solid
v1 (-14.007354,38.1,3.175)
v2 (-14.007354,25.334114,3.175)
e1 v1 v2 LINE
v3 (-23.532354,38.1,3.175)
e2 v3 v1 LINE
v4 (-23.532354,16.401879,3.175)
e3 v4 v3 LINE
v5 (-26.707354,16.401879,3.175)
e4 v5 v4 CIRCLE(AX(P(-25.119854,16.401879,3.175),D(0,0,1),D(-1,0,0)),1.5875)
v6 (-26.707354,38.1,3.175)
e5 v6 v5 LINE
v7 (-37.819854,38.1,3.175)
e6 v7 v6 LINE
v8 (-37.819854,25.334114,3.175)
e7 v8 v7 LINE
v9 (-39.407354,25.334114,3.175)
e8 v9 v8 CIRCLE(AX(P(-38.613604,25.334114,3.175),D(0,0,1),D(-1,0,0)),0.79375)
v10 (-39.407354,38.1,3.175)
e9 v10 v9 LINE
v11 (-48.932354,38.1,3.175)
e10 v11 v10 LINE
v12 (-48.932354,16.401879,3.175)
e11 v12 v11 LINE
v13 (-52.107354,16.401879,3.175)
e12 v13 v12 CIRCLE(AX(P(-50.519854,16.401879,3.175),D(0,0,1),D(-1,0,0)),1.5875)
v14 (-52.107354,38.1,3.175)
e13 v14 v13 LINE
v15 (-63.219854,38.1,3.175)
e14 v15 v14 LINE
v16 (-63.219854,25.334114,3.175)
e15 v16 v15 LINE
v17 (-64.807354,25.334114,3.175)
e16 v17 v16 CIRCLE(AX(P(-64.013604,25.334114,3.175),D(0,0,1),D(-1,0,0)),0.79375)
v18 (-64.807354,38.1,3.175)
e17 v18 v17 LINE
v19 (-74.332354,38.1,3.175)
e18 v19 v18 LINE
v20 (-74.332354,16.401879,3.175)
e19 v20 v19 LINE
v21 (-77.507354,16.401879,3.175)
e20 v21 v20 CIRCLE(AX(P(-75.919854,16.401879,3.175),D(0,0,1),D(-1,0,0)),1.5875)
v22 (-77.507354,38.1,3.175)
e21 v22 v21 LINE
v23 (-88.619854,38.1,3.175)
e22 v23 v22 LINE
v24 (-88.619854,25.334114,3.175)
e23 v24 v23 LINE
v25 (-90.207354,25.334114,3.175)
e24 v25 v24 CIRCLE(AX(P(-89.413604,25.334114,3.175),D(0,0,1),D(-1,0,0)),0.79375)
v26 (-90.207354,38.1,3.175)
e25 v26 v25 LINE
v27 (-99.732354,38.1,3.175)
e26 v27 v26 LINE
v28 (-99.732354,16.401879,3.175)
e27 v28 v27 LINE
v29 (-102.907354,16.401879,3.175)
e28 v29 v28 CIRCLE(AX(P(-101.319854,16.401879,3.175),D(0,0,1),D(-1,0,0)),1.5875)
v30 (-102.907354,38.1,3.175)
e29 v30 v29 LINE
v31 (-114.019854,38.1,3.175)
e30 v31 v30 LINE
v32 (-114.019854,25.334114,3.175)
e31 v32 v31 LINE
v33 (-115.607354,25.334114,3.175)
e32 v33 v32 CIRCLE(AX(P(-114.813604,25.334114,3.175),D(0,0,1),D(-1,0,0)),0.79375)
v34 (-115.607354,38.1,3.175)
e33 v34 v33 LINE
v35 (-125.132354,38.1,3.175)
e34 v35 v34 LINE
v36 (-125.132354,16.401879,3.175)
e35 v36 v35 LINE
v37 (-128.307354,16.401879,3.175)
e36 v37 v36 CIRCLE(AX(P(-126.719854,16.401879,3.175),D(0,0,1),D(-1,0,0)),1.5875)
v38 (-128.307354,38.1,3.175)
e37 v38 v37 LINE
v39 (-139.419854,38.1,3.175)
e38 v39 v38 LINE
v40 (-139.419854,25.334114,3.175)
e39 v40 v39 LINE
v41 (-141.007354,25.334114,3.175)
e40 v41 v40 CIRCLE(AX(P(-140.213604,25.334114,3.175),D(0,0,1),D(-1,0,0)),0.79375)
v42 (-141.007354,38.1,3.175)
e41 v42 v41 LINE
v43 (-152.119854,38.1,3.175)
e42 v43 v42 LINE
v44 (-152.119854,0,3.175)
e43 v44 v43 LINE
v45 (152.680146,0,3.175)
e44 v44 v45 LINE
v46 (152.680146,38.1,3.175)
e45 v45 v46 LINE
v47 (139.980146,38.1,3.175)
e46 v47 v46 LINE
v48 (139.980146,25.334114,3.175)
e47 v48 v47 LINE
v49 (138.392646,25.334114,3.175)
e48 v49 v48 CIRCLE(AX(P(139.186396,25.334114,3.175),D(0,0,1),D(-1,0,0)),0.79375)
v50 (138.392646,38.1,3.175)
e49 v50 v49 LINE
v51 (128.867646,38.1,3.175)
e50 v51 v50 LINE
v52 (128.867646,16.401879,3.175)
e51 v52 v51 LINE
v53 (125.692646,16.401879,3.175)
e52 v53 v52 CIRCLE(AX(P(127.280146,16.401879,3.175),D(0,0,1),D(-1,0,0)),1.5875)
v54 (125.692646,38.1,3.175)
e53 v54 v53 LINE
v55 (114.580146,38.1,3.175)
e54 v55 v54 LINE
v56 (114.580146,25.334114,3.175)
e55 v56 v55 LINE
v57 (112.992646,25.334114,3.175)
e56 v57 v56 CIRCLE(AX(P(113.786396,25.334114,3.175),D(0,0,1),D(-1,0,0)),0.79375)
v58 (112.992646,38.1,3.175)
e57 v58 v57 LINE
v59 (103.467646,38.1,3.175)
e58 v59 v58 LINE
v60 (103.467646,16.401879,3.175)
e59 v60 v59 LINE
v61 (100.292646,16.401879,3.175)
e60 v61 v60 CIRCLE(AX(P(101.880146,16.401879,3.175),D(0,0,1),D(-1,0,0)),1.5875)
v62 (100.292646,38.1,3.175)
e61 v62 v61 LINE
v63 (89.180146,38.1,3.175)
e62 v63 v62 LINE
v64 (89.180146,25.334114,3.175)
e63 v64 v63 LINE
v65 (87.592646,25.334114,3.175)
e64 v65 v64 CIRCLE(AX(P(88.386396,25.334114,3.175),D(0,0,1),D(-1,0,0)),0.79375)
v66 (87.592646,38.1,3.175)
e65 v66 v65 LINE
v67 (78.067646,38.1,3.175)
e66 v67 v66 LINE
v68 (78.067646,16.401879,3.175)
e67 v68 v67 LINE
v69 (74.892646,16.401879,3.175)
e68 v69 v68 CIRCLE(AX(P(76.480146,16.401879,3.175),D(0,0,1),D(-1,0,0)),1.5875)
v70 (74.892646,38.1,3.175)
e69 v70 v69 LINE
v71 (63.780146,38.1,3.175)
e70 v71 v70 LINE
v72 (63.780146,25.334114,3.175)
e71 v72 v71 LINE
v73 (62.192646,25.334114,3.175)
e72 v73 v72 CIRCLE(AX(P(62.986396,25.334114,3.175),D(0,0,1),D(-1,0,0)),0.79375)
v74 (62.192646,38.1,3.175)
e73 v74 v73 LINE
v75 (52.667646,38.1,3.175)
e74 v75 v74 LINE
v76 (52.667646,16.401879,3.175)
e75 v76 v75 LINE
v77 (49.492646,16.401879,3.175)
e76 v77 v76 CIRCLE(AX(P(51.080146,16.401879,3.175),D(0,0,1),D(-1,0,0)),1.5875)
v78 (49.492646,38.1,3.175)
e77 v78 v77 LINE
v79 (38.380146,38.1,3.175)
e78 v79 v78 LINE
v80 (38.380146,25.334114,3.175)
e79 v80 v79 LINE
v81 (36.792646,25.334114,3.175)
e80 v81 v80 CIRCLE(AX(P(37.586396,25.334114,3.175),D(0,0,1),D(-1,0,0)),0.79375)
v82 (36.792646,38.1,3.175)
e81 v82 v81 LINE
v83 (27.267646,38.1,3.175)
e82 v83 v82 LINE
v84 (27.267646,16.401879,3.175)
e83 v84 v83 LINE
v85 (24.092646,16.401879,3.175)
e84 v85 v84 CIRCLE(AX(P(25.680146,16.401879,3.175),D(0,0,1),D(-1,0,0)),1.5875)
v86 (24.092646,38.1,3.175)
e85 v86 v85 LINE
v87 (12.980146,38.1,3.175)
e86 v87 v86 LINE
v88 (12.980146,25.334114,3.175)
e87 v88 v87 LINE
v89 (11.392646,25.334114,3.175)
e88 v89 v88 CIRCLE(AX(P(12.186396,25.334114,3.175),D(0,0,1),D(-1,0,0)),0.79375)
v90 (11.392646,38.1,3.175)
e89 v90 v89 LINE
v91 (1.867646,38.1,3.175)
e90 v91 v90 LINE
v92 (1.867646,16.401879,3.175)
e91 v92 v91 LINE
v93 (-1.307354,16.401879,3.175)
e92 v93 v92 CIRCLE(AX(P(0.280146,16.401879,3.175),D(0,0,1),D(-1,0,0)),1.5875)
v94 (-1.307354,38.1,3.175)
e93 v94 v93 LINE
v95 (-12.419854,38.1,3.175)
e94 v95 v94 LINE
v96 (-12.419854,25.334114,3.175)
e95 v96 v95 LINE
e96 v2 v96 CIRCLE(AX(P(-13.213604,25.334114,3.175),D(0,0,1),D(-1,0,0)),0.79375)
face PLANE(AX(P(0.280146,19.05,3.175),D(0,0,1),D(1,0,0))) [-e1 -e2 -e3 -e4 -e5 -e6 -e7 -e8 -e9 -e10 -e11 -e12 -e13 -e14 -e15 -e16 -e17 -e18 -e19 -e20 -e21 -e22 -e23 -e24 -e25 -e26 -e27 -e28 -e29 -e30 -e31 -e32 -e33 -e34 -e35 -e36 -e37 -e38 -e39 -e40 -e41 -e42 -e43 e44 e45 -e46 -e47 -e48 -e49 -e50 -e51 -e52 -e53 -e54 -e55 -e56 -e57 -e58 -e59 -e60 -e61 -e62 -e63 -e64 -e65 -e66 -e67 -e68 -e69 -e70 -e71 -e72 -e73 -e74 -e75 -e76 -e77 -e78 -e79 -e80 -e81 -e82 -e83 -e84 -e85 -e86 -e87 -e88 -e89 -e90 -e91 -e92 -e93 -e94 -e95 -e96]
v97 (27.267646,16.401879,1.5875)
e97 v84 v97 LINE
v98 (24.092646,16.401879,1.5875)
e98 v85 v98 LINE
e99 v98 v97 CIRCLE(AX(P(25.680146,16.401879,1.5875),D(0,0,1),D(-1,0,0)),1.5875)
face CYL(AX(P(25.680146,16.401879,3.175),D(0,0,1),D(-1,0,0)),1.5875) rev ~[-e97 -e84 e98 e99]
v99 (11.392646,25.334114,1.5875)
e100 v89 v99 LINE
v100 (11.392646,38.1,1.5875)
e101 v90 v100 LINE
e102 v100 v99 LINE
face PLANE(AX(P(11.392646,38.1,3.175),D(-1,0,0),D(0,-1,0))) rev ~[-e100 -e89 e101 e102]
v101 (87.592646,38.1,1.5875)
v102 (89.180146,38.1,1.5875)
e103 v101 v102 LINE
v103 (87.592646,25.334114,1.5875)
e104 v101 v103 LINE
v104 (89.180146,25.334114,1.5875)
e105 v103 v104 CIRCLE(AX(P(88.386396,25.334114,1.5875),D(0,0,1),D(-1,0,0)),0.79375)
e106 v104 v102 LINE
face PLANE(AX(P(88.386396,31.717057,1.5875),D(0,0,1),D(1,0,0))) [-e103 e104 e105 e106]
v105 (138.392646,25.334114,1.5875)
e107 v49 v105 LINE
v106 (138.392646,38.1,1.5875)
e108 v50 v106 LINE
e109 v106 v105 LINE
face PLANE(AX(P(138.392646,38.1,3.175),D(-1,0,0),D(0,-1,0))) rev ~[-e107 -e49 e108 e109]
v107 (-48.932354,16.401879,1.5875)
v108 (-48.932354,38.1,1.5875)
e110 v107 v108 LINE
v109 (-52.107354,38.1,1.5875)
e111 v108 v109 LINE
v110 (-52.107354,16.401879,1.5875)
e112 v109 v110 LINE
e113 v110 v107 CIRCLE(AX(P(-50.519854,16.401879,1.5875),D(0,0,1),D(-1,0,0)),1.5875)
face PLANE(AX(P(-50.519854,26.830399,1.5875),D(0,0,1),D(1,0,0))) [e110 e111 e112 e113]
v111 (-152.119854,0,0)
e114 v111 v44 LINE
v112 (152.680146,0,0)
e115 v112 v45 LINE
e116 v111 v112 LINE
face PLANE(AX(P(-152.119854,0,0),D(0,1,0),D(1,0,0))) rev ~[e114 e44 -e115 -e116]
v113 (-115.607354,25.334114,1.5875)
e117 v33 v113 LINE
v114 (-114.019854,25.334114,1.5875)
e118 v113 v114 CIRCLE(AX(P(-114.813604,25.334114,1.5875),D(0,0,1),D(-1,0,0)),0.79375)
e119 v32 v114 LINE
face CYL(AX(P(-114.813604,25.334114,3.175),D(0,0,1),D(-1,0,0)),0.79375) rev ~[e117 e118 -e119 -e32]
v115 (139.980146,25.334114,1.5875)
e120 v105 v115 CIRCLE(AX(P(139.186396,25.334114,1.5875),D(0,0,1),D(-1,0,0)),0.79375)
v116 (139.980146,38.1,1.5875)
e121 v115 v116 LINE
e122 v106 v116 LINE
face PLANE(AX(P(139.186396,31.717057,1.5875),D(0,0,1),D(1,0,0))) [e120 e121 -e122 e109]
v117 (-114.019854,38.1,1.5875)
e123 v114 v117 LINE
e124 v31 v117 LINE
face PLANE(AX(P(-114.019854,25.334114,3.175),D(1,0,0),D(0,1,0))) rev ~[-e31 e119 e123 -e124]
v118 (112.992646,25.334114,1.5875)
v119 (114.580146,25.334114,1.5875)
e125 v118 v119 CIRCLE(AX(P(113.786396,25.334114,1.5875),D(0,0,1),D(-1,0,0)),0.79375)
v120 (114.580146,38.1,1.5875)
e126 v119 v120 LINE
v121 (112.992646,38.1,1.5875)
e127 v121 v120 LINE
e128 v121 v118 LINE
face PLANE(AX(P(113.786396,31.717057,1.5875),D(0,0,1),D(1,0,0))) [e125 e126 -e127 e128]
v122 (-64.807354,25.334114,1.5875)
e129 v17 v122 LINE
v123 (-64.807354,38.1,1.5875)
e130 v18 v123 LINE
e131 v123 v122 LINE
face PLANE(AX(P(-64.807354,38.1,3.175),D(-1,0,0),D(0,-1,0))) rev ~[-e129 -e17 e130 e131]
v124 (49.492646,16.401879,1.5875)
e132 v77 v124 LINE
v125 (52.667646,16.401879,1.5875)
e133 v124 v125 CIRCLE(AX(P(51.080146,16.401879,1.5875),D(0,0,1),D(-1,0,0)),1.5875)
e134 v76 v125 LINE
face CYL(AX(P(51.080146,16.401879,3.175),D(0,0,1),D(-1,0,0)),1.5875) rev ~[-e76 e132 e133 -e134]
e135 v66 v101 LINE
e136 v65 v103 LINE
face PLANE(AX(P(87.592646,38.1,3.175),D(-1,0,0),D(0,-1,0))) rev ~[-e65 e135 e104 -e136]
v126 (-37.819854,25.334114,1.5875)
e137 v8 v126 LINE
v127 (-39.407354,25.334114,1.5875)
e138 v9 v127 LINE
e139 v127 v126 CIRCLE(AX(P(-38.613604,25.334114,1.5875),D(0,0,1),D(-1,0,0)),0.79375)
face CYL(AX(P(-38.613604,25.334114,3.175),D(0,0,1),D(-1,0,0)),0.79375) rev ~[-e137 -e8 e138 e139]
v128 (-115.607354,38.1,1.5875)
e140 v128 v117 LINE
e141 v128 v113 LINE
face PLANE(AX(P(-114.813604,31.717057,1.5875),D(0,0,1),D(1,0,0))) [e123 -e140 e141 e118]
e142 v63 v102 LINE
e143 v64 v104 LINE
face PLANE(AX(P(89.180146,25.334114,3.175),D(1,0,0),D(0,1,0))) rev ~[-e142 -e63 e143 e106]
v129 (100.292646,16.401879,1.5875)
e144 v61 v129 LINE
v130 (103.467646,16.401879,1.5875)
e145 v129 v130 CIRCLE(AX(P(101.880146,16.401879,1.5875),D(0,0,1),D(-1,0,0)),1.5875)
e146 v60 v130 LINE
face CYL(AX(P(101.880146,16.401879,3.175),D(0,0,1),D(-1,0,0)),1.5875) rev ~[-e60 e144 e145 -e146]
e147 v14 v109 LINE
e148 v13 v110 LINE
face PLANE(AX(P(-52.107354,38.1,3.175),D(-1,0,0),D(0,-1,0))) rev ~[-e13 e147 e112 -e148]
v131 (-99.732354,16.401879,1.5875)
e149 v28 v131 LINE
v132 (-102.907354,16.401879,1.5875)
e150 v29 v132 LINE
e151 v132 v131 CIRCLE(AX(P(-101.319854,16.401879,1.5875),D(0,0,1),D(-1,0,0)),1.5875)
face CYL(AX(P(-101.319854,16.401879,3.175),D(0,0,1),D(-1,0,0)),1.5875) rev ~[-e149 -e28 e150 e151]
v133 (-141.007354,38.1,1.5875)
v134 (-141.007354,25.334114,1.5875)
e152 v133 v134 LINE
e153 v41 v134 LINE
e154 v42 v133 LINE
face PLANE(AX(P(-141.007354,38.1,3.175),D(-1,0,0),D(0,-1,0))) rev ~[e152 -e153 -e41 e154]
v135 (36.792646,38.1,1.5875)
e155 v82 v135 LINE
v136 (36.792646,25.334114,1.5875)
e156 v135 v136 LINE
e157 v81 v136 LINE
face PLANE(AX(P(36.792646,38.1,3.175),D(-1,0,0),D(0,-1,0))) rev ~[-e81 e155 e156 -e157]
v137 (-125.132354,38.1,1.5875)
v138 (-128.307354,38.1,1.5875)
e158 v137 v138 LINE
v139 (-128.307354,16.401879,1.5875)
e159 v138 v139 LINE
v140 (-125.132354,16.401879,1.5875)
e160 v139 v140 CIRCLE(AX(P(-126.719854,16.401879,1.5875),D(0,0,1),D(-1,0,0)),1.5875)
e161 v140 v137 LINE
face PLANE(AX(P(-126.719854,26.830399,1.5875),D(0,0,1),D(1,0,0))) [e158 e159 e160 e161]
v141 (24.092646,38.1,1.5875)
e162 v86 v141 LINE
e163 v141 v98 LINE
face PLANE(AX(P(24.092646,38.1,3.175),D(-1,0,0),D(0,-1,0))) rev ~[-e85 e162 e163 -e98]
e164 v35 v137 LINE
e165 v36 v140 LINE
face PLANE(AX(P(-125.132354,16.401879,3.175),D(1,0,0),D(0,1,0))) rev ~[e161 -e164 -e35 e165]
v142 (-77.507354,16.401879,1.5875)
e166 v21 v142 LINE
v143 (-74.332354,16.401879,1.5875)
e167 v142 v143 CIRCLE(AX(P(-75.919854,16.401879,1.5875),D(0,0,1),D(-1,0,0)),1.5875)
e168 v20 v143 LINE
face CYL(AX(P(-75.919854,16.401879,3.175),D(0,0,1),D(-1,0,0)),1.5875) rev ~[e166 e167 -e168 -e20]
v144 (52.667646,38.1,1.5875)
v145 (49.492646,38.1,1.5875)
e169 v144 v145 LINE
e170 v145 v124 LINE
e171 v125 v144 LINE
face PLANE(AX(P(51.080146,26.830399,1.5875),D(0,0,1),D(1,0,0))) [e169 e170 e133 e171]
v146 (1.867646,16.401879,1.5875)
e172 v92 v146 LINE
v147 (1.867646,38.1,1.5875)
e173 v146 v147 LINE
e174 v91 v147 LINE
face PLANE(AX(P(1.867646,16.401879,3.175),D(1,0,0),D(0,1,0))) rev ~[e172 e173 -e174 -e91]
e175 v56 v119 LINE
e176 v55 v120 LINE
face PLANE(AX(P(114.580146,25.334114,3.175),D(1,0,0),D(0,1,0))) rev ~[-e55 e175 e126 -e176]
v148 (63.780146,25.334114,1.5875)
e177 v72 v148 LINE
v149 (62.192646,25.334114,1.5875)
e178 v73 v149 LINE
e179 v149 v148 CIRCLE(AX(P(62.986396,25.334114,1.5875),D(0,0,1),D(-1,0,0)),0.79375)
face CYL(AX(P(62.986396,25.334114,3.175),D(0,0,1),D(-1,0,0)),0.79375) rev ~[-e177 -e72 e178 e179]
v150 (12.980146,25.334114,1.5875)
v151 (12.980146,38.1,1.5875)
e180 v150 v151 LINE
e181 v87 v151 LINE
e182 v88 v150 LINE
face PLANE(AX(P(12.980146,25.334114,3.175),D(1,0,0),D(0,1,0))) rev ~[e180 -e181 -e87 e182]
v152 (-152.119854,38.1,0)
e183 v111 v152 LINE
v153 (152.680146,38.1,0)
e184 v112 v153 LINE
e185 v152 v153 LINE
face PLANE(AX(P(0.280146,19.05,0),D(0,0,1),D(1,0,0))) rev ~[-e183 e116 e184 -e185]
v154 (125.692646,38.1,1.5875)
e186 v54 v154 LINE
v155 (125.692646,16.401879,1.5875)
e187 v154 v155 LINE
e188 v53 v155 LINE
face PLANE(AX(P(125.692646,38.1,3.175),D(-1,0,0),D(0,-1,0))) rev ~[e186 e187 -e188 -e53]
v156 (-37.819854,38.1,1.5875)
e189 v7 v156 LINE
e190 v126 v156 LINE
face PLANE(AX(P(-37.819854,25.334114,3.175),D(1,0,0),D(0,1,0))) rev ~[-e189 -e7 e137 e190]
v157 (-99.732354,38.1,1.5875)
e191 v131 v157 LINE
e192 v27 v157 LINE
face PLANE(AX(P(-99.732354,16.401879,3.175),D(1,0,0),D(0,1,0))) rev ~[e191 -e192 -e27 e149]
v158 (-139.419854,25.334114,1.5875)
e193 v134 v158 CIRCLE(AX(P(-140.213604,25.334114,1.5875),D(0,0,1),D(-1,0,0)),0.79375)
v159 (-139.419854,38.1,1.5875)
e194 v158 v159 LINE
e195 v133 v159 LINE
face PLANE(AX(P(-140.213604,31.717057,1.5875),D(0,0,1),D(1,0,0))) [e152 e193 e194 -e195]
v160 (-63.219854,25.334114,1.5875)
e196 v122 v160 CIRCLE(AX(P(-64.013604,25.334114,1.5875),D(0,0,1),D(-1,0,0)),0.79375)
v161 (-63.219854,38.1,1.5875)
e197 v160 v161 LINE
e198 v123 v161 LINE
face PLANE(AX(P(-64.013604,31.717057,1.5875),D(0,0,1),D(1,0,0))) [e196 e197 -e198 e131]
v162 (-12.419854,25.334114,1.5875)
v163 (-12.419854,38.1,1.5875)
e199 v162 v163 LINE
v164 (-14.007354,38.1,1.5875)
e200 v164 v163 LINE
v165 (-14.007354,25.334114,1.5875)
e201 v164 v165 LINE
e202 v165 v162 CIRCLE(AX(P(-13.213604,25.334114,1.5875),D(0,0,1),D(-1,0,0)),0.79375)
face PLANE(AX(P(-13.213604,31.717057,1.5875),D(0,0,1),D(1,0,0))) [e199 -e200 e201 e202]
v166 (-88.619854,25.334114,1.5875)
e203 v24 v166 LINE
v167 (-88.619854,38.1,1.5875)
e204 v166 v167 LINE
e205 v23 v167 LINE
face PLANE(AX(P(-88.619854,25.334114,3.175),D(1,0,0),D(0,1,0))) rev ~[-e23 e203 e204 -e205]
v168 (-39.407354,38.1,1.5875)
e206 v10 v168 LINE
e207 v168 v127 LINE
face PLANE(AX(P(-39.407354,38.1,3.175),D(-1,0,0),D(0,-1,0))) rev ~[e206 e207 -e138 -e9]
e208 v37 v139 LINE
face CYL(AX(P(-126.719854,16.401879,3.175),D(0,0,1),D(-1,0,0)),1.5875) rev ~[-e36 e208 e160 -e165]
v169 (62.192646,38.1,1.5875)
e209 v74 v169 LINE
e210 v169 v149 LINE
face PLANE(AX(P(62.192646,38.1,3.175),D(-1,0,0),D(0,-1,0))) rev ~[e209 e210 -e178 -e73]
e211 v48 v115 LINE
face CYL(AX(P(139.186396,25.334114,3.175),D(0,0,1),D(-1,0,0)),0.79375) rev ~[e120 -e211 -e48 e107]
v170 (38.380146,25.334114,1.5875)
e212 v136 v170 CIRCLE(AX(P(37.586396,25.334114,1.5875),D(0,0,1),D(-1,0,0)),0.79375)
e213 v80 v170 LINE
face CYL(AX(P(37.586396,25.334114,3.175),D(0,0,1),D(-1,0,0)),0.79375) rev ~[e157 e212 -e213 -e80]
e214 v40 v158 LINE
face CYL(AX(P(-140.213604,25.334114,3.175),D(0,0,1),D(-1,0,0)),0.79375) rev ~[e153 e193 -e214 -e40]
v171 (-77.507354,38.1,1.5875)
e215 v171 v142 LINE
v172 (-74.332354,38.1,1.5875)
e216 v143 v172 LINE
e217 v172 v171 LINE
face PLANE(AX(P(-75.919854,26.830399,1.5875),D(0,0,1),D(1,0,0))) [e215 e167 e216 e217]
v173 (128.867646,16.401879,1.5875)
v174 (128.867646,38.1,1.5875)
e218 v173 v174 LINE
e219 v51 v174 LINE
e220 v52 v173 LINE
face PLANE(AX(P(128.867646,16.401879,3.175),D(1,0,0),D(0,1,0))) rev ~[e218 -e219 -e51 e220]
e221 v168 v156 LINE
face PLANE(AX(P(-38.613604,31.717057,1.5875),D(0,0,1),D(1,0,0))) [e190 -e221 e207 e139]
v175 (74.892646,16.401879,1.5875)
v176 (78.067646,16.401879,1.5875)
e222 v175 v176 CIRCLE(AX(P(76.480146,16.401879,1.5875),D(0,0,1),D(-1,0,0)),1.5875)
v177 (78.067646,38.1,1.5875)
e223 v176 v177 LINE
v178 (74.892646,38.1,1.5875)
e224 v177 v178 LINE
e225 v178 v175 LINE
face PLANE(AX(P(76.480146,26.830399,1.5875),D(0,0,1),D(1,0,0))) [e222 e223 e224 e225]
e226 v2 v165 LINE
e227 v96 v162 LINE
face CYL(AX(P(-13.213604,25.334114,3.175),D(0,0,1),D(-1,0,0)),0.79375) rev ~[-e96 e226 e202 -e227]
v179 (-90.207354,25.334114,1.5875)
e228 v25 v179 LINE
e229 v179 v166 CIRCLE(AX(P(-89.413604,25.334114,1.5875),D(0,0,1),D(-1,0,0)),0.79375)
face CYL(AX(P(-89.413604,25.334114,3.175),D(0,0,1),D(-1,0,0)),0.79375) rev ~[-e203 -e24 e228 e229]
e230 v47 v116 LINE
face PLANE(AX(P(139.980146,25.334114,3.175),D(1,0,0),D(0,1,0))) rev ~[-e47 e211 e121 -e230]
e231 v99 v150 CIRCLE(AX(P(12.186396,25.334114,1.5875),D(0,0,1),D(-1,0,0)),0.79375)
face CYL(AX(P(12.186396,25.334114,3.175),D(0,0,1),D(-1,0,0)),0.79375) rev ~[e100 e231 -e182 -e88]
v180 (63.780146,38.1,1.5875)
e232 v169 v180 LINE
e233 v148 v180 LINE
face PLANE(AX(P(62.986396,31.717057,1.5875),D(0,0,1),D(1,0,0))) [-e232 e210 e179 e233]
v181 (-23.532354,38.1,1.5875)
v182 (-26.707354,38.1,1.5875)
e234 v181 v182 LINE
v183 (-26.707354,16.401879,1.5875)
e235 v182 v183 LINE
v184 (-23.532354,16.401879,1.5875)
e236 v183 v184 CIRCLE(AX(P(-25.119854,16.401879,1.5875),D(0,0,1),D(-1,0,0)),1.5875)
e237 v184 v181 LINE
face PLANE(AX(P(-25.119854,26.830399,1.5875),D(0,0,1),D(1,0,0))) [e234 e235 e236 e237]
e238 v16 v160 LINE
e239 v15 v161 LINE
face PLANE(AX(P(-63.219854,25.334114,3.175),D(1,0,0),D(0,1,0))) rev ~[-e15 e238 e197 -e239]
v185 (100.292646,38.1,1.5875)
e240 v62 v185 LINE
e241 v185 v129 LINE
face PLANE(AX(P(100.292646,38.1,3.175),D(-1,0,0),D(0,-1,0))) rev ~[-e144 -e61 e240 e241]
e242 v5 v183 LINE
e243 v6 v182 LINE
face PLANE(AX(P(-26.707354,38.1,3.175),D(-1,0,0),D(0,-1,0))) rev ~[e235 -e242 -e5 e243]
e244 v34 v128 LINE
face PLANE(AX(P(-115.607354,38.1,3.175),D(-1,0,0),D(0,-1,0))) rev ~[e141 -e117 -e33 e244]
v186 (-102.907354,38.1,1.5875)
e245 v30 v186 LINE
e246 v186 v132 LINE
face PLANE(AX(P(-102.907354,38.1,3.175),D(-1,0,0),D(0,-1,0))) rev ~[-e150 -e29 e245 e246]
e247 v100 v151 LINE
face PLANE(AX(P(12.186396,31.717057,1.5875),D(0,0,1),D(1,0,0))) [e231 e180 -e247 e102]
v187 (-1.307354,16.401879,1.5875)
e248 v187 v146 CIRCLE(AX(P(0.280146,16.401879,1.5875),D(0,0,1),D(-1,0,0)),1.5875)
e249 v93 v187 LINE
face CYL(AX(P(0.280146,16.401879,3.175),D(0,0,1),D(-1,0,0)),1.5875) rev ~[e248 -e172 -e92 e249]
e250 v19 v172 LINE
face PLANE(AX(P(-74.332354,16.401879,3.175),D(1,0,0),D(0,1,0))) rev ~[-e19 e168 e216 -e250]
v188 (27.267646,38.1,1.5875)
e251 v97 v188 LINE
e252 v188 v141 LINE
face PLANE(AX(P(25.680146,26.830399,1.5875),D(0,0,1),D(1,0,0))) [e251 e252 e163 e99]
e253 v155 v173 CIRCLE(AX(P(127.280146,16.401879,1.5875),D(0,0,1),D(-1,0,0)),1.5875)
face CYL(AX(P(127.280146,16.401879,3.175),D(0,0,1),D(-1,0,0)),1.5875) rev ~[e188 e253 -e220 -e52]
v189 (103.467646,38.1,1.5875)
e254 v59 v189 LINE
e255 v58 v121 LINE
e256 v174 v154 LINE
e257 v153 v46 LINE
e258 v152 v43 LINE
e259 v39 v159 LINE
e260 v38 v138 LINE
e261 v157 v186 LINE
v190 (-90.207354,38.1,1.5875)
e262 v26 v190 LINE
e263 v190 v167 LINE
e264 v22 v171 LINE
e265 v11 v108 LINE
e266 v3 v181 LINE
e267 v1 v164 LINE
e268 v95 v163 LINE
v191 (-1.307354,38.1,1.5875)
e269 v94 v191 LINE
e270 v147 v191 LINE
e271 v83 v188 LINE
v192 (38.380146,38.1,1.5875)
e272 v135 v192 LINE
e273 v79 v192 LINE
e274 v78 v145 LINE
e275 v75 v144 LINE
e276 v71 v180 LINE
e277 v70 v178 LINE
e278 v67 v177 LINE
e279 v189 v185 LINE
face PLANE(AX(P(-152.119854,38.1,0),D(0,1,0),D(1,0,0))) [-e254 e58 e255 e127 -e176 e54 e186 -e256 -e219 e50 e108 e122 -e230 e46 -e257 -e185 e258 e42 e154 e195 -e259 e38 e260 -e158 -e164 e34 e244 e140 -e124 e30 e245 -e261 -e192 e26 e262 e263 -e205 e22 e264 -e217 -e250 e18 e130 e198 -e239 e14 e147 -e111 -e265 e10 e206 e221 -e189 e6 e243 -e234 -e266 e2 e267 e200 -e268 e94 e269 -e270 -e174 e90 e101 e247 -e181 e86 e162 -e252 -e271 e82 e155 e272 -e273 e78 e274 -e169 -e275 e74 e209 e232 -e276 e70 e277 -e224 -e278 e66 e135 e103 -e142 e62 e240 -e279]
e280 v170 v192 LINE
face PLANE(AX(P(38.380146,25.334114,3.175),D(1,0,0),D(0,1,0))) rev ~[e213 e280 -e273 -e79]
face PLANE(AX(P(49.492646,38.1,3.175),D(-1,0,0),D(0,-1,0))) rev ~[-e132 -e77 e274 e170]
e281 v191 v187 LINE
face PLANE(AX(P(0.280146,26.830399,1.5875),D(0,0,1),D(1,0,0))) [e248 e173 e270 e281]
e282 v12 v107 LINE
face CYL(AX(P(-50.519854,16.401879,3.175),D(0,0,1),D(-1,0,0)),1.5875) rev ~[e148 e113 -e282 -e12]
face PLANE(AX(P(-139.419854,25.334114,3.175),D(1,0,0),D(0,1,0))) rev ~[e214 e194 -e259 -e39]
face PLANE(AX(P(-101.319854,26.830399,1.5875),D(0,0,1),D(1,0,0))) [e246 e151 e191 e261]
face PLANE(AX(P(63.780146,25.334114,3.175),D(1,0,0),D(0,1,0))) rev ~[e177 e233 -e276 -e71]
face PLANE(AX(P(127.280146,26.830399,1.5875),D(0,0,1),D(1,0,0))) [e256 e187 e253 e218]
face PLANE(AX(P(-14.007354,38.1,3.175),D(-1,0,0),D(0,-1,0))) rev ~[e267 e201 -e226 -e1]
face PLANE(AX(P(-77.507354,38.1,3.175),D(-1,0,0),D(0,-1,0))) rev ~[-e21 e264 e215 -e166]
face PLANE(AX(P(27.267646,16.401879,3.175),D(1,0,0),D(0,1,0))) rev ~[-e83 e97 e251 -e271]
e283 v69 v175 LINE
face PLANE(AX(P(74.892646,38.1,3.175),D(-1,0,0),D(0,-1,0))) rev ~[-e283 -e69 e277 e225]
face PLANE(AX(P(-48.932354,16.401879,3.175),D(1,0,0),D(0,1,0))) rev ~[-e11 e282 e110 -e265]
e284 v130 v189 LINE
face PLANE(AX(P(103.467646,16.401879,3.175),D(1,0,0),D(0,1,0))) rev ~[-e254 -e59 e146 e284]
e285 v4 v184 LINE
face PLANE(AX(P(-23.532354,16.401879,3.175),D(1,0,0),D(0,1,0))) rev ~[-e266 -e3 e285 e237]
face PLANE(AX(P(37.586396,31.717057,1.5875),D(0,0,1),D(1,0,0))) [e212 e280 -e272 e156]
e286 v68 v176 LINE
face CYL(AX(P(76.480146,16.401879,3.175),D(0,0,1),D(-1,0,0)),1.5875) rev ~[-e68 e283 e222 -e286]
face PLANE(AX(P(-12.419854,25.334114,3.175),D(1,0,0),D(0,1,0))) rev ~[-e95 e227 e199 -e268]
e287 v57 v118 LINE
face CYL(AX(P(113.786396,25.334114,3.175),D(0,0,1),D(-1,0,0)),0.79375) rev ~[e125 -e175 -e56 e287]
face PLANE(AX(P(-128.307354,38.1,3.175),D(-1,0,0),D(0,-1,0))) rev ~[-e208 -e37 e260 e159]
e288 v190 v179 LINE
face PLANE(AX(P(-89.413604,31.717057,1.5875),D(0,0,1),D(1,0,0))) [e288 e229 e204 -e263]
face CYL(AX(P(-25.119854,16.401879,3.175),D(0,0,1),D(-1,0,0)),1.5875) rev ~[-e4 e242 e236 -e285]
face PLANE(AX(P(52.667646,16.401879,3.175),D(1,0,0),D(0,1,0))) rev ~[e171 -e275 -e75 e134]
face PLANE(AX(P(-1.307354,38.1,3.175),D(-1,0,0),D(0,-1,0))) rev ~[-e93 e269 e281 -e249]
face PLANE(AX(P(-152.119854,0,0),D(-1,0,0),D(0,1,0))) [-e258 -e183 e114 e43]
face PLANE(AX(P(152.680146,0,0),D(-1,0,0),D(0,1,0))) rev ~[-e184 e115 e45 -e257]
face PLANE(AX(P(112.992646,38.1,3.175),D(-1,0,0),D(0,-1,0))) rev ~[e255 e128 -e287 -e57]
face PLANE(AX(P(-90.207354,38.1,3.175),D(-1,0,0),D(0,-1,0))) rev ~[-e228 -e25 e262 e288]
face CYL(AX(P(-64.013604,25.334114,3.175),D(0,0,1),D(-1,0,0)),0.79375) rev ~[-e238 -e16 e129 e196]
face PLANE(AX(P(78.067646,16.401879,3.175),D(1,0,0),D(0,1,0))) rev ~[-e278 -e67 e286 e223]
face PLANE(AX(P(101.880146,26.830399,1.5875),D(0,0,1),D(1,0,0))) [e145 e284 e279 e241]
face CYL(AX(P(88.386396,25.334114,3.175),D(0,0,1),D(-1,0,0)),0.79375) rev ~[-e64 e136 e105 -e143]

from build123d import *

# Parameters (mm, degrees)
F0_W     = 304.8
F0_H     = 38.1
F1_DEPTH = 3.175
F3_DEPTH = 1.5875
F5_DEPTH = 1.5875


with BuildPart() as f1:
    # F0 (on Top) → F1 (new body)
    with BuildSketch(Plane.XY):
        with Locations((0.280146, 19.05)):
            Rectangle(F0_W, F0_H)
    extrude(amount=F1_DEPTH)

    # F2 (on face) → F3 (cut)
    with BuildSketch(Plane.XY.offset(3.175)):
        with BuildLine():
            Line((-126.719854, 38.1), (-128.307354, 38.1))
            Line((-128.307354, 38.1), (-128.307354, 16.401879))
            ThreePointArc((-128.307354, 16.401879), (-126.719854, 14.814379), (-125.132354, 16.401879))
            Line((-125.132354, 16.401879), (-125.132354, 38.1))
            Line((-125.132354, 38.1), (-126.719854, 38.1))
        make_face()
        with BuildLine():
            Line((-101.319854, 38.1), (-102.907354, 38.1))
            Line((-102.907354, 38.1), (-102.907354, 16.401879))
            ThreePointArc((-102.907354, 16.401879), (-101.319854, 14.814379), (-99.732354, 16.401879))
            Line((-99.732354, 16.401879), (-99.732354, 38.1))
            Line((-99.732354, 38.1), (-101.319854, 38.1))
        make_face()
        with BuildLine():
            Line((-75.919854, 38.1), (-77.507354, 38.1))
            Line((-77.507354, 38.1), (-77.507354, 16.401879))
            ThreePointArc((-77.507354, 16.401879), (-75.919854, 14.814379), (-74.332354, 16.401879))
            Line((-74.332354, 16.401879), (-74.332354, 38.1))
            Line((-74.332354, 38.1), (-75.919854, 38.1))
        make_face()
        with BuildLine():
            Line((-50.519854, 38.1), (-52.107354, 38.1))
            Line((-52.107354, 38.1), (-52.107354, 16.401879))
            ThreePointArc((-52.107354, 16.401879), (-50.519854, 14.814379), (-48.932354, 16.401879))
            Line((-48.932354, 16.401879), (-48.932354, 38.1))
            Line((-48.932354, 38.1), (-50.519854, 38.1))
        make_face()
        with BuildLine():
            Line((-25.119854, 38.1), (-26.707354, 38.1))
            Line((-26.707354, 38.1), (-26.707354, 16.401879))
            ThreePointArc((-26.707354, 16.401879), (-25.119854, 14.814379), (-23.532354, 16.401879))
            Line((-23.532354, 16.401879), (-23.532354, 38.1))
            Line((-23.532354, 38.1), (-25.119854, 38.1))
        make_face()
        with BuildLine():
            Line((1.867646, 16.401879), (1.867646, 38.1))
            Line((1.867646, 38.1), (0.280146, 38.1))
            Line((0.280146, 38.1), (-1.307354, 38.1))
            Line((-1.307354, 38.1), (-1.307354, 16.401879))
            ThreePointArc((-1.307354, 16.401879), (0.280146, 14.814379), (1.867646, 16.401879))
        make_face()
        with BuildLine():
            Line((27.267646, 16.401879), (27.267646, 38.1))
            Line((27.267646, 38.1), (25.680146, 38.1))
            Line((25.680146, 38.1), (24.092646, 38.1))
            Line((24.092646, 38.1), (24.092646, 16.401879))
            ThreePointArc((24.092646, 16.401879), (25.680146, 14.814379), (27.267646, 16.401879))
        make_face()
        with BuildLine():
            Line((52.667646, 16.401879), (52.667646, 38.1))
            Line((52.667646, 38.1), (51.080146, 38.1))
            Line((51.080146, 38.1), (49.492646, 38.1))
            Line((49.492646, 38.1), (49.492646, 16.401879))
            ThreePointArc((49.492646, 16.401879), (51.080146, 14.814379), (52.667646, 16.401879))
        make_face()
        with BuildLine():
            Line((78.067646, 16.401879), (78.067646, 38.1))
            Line((78.067646, 38.1), (76.480146, 38.1))
            Line((76.480146, 38.1), (74.892646, 38.1))
            Line((74.892646, 38.1), (74.892646, 16.401879))
            ThreePointArc((74.892646, 16.401879), (76.480146, 14.814379), (78.067646, 16.401879))
        make_face()
        with BuildLine():
            Line((103.467646, 16.401879), (103.467646, 38.1))
            Line((103.467646, 38.1), (101.880146, 38.1))
            Line((101.880146, 38.1), (100.292646, 38.1))
            Line((100.292646, 38.1), (100.292646, 16.401879))
            ThreePointArc((100.292646, 16.401879), (101.880146, 14.814379), (103.467646, 16.401879))
        make_face()
        with BuildLine():
            Line((128.867646, 16.401879), (128.867646, 38.1))
            Line((128.867646, 38.1), (127.280146, 38.1))
            Line((127.280146, 38.1), (125.692646, 38.1))
            Line((125.692646, 38.1), (125.692646, 16.401879))
            ThreePointArc((125.692646, 16.401879), (127.280146, 14.814379), (128.867646, 16.401879))
        make_face()
    extrude(amount=-F3_DEPTH, mode=Mode.SUBTRACT)

    # F4 (on face) → F5 (cut)
    with BuildSketch(Plane.XY.offset(3.175)):
        with BuildLine():
            ThreePointArc((-139.419854, 38.1), (-140.213604, 38.89375), (-141.007354, 38.1))
            Line((-141.007354, 38.1), (-141.007354, 25.334114))
            ThreePointArc((-141.007354, 25.334114), (-140.213604, 24.540364), (-139.419854, 25.334114))
            Line((-139.419854, 25.334114), (-139.419854, 38.1))
        make_face()
        with BuildLine():
            ThreePointArc((-114.019854, 38.1), (-114.813604, 38.89375), (-115.607354, 38.1))
            Line((-115.607354, 38.1), (-115.607354, 25.334114))
            ThreePointArc((-115.607354, 25.334114), (-114.813604, 24.540364), (-114.019854, 25.334114))
            Line((-114.019854, 25.334114), (-114.019854, 38.1))
        make_face()
        with BuildLine():
            ThreePointArc((-88.619854, 38.1), (-89.413604, 38.89375), (-90.207354, 38.1))
            Line((-90.207354, 38.1), (-90.207354, 25.334114))
            ThreePointArc((-90.207354, 25.334114), (-89.413604, 24.540364), (-88.619854, 25.334114))
            Line((-88.619854, 25.334114), (-88.619854, 38.1))
        make_face()
        with BuildLine():
            ThreePointArc((-63.219854, 38.1), (-64.013604, 38.89375), (-64.807354, 38.1))
            Line((-64.807354, 38.1), (-64.807354, 25.334114))
            ThreePointArc((-64.807354, 25.334114), (-64.013604, 24.540364), (-63.219854, 25.334114))
            Line((-63.219854, 25.334114), (-63.219854, 38.1))
        make_face()
        with BuildLine():
            ThreePointArc((-37.819854, 38.1), (-38.613604, 38.89375), (-39.407354, 38.1))
            Line((-39.407354, 38.1), (-39.407354, 25.334114))
            ThreePointArc((-39.407354, 25.334114), (-38.613604, 24.540364), (-37.819854, 25.334114))
            Line((-37.819854, 25.334114), (-37.819854, 38.1))
        make_face()
        with BuildLine():
            ThreePointArc((-12.419854, 38.1), (-13.213604, 38.89375), (-14.007354, 38.1))
            Line((-14.007354, 38.1), (-14.007354, 25.334114))
            ThreePointArc((-14.007354, 25.334114), (-13.213604, 24.540364), (-12.419854, 25.334114))
            Line((-12.419854, 25.334114), (-12.419854, 38.1))
        make_face()
        with BuildLine():
            ThreePointArc((12.980146, 38.1), (12.186396, 38.89375), (11.392646, 38.1))
            Line((11.392646, 38.1), (11.392646, 25.334114))
            ThreePointArc((11.392646, 25.334114), (12.186396, 24.540364), (12.980146, 25.334114))
            Line((12.980146, 25.334114), (12.980146, 38.1))
        make_face()
        with BuildLine():
            ThreePointArc((38.380146, 38.1), (37.586396, 38.89375), (36.792646, 38.1))
            Line((36.792646, 38.1), (36.792646, 25.334114))
            ThreePointArc((36.792646, 25.334114), (37.586396, 24.540364), (38.380146, 25.334114))
            Line((38.380146, 25.334114), (38.380146, 38.1))
        make_face()
        with BuildLine():
            ThreePointArc((63.780146, 38.1), (62.986396, 38.89375), (62.192646, 38.1))
            Line((62.192646, 38.1), (62.192646, 25.334114))
            ThreePointArc((62.192646, 25.334114), (62.986396, 24.540364), (63.780146, 25.334114))
            Line((63.780146, 25.334114), (63.780146, 38.1))
        make_face()
        with BuildLine():
            ThreePointArc((89.180146, 38.1), (88.386396, 38.89375), (87.592646, 38.1))
            Line((87.592646, 38.1), (87.592646, 25.334114))
            ThreePointArc((87.592646, 25.334114), (88.386396, 24.540364), (89.180146, 25.334114))
            Line((89.180146, 25.334114), (89.180146, 38.1))
        make_face()
        with BuildLine():
            ThreePointArc((114.580146, 38.1), (113.786396, 38.89375), (112.992646, 38.1))
            Line((112.992646, 38.1), (112.992646, 25.334114))
            ThreePointArc((112.992646, 25.334114), (113.786396, 24.540364), (114.580146, 25.334114))
            Line((114.580146, 25.334114), (114.580146, 38.1))
        make_face()
        with BuildLine():
            ThreePointArc((139.980146, 38.1), (139.186396, 38.89375), (138.392646, 38.1))
            Line((138.392646, 38.1), (138.392646, 25.334114))
            ThreePointArc((138.392646, 25.334114), (139.186396, 24.540364), (139.980146, 25.334114))
            Line((139.980146, 25.334114), (139.980146, 38.1))
        make_face()
    extrude(amount=-F5_DEPTH, mode=Mode.SUBTRACT)


solid = f1.part
